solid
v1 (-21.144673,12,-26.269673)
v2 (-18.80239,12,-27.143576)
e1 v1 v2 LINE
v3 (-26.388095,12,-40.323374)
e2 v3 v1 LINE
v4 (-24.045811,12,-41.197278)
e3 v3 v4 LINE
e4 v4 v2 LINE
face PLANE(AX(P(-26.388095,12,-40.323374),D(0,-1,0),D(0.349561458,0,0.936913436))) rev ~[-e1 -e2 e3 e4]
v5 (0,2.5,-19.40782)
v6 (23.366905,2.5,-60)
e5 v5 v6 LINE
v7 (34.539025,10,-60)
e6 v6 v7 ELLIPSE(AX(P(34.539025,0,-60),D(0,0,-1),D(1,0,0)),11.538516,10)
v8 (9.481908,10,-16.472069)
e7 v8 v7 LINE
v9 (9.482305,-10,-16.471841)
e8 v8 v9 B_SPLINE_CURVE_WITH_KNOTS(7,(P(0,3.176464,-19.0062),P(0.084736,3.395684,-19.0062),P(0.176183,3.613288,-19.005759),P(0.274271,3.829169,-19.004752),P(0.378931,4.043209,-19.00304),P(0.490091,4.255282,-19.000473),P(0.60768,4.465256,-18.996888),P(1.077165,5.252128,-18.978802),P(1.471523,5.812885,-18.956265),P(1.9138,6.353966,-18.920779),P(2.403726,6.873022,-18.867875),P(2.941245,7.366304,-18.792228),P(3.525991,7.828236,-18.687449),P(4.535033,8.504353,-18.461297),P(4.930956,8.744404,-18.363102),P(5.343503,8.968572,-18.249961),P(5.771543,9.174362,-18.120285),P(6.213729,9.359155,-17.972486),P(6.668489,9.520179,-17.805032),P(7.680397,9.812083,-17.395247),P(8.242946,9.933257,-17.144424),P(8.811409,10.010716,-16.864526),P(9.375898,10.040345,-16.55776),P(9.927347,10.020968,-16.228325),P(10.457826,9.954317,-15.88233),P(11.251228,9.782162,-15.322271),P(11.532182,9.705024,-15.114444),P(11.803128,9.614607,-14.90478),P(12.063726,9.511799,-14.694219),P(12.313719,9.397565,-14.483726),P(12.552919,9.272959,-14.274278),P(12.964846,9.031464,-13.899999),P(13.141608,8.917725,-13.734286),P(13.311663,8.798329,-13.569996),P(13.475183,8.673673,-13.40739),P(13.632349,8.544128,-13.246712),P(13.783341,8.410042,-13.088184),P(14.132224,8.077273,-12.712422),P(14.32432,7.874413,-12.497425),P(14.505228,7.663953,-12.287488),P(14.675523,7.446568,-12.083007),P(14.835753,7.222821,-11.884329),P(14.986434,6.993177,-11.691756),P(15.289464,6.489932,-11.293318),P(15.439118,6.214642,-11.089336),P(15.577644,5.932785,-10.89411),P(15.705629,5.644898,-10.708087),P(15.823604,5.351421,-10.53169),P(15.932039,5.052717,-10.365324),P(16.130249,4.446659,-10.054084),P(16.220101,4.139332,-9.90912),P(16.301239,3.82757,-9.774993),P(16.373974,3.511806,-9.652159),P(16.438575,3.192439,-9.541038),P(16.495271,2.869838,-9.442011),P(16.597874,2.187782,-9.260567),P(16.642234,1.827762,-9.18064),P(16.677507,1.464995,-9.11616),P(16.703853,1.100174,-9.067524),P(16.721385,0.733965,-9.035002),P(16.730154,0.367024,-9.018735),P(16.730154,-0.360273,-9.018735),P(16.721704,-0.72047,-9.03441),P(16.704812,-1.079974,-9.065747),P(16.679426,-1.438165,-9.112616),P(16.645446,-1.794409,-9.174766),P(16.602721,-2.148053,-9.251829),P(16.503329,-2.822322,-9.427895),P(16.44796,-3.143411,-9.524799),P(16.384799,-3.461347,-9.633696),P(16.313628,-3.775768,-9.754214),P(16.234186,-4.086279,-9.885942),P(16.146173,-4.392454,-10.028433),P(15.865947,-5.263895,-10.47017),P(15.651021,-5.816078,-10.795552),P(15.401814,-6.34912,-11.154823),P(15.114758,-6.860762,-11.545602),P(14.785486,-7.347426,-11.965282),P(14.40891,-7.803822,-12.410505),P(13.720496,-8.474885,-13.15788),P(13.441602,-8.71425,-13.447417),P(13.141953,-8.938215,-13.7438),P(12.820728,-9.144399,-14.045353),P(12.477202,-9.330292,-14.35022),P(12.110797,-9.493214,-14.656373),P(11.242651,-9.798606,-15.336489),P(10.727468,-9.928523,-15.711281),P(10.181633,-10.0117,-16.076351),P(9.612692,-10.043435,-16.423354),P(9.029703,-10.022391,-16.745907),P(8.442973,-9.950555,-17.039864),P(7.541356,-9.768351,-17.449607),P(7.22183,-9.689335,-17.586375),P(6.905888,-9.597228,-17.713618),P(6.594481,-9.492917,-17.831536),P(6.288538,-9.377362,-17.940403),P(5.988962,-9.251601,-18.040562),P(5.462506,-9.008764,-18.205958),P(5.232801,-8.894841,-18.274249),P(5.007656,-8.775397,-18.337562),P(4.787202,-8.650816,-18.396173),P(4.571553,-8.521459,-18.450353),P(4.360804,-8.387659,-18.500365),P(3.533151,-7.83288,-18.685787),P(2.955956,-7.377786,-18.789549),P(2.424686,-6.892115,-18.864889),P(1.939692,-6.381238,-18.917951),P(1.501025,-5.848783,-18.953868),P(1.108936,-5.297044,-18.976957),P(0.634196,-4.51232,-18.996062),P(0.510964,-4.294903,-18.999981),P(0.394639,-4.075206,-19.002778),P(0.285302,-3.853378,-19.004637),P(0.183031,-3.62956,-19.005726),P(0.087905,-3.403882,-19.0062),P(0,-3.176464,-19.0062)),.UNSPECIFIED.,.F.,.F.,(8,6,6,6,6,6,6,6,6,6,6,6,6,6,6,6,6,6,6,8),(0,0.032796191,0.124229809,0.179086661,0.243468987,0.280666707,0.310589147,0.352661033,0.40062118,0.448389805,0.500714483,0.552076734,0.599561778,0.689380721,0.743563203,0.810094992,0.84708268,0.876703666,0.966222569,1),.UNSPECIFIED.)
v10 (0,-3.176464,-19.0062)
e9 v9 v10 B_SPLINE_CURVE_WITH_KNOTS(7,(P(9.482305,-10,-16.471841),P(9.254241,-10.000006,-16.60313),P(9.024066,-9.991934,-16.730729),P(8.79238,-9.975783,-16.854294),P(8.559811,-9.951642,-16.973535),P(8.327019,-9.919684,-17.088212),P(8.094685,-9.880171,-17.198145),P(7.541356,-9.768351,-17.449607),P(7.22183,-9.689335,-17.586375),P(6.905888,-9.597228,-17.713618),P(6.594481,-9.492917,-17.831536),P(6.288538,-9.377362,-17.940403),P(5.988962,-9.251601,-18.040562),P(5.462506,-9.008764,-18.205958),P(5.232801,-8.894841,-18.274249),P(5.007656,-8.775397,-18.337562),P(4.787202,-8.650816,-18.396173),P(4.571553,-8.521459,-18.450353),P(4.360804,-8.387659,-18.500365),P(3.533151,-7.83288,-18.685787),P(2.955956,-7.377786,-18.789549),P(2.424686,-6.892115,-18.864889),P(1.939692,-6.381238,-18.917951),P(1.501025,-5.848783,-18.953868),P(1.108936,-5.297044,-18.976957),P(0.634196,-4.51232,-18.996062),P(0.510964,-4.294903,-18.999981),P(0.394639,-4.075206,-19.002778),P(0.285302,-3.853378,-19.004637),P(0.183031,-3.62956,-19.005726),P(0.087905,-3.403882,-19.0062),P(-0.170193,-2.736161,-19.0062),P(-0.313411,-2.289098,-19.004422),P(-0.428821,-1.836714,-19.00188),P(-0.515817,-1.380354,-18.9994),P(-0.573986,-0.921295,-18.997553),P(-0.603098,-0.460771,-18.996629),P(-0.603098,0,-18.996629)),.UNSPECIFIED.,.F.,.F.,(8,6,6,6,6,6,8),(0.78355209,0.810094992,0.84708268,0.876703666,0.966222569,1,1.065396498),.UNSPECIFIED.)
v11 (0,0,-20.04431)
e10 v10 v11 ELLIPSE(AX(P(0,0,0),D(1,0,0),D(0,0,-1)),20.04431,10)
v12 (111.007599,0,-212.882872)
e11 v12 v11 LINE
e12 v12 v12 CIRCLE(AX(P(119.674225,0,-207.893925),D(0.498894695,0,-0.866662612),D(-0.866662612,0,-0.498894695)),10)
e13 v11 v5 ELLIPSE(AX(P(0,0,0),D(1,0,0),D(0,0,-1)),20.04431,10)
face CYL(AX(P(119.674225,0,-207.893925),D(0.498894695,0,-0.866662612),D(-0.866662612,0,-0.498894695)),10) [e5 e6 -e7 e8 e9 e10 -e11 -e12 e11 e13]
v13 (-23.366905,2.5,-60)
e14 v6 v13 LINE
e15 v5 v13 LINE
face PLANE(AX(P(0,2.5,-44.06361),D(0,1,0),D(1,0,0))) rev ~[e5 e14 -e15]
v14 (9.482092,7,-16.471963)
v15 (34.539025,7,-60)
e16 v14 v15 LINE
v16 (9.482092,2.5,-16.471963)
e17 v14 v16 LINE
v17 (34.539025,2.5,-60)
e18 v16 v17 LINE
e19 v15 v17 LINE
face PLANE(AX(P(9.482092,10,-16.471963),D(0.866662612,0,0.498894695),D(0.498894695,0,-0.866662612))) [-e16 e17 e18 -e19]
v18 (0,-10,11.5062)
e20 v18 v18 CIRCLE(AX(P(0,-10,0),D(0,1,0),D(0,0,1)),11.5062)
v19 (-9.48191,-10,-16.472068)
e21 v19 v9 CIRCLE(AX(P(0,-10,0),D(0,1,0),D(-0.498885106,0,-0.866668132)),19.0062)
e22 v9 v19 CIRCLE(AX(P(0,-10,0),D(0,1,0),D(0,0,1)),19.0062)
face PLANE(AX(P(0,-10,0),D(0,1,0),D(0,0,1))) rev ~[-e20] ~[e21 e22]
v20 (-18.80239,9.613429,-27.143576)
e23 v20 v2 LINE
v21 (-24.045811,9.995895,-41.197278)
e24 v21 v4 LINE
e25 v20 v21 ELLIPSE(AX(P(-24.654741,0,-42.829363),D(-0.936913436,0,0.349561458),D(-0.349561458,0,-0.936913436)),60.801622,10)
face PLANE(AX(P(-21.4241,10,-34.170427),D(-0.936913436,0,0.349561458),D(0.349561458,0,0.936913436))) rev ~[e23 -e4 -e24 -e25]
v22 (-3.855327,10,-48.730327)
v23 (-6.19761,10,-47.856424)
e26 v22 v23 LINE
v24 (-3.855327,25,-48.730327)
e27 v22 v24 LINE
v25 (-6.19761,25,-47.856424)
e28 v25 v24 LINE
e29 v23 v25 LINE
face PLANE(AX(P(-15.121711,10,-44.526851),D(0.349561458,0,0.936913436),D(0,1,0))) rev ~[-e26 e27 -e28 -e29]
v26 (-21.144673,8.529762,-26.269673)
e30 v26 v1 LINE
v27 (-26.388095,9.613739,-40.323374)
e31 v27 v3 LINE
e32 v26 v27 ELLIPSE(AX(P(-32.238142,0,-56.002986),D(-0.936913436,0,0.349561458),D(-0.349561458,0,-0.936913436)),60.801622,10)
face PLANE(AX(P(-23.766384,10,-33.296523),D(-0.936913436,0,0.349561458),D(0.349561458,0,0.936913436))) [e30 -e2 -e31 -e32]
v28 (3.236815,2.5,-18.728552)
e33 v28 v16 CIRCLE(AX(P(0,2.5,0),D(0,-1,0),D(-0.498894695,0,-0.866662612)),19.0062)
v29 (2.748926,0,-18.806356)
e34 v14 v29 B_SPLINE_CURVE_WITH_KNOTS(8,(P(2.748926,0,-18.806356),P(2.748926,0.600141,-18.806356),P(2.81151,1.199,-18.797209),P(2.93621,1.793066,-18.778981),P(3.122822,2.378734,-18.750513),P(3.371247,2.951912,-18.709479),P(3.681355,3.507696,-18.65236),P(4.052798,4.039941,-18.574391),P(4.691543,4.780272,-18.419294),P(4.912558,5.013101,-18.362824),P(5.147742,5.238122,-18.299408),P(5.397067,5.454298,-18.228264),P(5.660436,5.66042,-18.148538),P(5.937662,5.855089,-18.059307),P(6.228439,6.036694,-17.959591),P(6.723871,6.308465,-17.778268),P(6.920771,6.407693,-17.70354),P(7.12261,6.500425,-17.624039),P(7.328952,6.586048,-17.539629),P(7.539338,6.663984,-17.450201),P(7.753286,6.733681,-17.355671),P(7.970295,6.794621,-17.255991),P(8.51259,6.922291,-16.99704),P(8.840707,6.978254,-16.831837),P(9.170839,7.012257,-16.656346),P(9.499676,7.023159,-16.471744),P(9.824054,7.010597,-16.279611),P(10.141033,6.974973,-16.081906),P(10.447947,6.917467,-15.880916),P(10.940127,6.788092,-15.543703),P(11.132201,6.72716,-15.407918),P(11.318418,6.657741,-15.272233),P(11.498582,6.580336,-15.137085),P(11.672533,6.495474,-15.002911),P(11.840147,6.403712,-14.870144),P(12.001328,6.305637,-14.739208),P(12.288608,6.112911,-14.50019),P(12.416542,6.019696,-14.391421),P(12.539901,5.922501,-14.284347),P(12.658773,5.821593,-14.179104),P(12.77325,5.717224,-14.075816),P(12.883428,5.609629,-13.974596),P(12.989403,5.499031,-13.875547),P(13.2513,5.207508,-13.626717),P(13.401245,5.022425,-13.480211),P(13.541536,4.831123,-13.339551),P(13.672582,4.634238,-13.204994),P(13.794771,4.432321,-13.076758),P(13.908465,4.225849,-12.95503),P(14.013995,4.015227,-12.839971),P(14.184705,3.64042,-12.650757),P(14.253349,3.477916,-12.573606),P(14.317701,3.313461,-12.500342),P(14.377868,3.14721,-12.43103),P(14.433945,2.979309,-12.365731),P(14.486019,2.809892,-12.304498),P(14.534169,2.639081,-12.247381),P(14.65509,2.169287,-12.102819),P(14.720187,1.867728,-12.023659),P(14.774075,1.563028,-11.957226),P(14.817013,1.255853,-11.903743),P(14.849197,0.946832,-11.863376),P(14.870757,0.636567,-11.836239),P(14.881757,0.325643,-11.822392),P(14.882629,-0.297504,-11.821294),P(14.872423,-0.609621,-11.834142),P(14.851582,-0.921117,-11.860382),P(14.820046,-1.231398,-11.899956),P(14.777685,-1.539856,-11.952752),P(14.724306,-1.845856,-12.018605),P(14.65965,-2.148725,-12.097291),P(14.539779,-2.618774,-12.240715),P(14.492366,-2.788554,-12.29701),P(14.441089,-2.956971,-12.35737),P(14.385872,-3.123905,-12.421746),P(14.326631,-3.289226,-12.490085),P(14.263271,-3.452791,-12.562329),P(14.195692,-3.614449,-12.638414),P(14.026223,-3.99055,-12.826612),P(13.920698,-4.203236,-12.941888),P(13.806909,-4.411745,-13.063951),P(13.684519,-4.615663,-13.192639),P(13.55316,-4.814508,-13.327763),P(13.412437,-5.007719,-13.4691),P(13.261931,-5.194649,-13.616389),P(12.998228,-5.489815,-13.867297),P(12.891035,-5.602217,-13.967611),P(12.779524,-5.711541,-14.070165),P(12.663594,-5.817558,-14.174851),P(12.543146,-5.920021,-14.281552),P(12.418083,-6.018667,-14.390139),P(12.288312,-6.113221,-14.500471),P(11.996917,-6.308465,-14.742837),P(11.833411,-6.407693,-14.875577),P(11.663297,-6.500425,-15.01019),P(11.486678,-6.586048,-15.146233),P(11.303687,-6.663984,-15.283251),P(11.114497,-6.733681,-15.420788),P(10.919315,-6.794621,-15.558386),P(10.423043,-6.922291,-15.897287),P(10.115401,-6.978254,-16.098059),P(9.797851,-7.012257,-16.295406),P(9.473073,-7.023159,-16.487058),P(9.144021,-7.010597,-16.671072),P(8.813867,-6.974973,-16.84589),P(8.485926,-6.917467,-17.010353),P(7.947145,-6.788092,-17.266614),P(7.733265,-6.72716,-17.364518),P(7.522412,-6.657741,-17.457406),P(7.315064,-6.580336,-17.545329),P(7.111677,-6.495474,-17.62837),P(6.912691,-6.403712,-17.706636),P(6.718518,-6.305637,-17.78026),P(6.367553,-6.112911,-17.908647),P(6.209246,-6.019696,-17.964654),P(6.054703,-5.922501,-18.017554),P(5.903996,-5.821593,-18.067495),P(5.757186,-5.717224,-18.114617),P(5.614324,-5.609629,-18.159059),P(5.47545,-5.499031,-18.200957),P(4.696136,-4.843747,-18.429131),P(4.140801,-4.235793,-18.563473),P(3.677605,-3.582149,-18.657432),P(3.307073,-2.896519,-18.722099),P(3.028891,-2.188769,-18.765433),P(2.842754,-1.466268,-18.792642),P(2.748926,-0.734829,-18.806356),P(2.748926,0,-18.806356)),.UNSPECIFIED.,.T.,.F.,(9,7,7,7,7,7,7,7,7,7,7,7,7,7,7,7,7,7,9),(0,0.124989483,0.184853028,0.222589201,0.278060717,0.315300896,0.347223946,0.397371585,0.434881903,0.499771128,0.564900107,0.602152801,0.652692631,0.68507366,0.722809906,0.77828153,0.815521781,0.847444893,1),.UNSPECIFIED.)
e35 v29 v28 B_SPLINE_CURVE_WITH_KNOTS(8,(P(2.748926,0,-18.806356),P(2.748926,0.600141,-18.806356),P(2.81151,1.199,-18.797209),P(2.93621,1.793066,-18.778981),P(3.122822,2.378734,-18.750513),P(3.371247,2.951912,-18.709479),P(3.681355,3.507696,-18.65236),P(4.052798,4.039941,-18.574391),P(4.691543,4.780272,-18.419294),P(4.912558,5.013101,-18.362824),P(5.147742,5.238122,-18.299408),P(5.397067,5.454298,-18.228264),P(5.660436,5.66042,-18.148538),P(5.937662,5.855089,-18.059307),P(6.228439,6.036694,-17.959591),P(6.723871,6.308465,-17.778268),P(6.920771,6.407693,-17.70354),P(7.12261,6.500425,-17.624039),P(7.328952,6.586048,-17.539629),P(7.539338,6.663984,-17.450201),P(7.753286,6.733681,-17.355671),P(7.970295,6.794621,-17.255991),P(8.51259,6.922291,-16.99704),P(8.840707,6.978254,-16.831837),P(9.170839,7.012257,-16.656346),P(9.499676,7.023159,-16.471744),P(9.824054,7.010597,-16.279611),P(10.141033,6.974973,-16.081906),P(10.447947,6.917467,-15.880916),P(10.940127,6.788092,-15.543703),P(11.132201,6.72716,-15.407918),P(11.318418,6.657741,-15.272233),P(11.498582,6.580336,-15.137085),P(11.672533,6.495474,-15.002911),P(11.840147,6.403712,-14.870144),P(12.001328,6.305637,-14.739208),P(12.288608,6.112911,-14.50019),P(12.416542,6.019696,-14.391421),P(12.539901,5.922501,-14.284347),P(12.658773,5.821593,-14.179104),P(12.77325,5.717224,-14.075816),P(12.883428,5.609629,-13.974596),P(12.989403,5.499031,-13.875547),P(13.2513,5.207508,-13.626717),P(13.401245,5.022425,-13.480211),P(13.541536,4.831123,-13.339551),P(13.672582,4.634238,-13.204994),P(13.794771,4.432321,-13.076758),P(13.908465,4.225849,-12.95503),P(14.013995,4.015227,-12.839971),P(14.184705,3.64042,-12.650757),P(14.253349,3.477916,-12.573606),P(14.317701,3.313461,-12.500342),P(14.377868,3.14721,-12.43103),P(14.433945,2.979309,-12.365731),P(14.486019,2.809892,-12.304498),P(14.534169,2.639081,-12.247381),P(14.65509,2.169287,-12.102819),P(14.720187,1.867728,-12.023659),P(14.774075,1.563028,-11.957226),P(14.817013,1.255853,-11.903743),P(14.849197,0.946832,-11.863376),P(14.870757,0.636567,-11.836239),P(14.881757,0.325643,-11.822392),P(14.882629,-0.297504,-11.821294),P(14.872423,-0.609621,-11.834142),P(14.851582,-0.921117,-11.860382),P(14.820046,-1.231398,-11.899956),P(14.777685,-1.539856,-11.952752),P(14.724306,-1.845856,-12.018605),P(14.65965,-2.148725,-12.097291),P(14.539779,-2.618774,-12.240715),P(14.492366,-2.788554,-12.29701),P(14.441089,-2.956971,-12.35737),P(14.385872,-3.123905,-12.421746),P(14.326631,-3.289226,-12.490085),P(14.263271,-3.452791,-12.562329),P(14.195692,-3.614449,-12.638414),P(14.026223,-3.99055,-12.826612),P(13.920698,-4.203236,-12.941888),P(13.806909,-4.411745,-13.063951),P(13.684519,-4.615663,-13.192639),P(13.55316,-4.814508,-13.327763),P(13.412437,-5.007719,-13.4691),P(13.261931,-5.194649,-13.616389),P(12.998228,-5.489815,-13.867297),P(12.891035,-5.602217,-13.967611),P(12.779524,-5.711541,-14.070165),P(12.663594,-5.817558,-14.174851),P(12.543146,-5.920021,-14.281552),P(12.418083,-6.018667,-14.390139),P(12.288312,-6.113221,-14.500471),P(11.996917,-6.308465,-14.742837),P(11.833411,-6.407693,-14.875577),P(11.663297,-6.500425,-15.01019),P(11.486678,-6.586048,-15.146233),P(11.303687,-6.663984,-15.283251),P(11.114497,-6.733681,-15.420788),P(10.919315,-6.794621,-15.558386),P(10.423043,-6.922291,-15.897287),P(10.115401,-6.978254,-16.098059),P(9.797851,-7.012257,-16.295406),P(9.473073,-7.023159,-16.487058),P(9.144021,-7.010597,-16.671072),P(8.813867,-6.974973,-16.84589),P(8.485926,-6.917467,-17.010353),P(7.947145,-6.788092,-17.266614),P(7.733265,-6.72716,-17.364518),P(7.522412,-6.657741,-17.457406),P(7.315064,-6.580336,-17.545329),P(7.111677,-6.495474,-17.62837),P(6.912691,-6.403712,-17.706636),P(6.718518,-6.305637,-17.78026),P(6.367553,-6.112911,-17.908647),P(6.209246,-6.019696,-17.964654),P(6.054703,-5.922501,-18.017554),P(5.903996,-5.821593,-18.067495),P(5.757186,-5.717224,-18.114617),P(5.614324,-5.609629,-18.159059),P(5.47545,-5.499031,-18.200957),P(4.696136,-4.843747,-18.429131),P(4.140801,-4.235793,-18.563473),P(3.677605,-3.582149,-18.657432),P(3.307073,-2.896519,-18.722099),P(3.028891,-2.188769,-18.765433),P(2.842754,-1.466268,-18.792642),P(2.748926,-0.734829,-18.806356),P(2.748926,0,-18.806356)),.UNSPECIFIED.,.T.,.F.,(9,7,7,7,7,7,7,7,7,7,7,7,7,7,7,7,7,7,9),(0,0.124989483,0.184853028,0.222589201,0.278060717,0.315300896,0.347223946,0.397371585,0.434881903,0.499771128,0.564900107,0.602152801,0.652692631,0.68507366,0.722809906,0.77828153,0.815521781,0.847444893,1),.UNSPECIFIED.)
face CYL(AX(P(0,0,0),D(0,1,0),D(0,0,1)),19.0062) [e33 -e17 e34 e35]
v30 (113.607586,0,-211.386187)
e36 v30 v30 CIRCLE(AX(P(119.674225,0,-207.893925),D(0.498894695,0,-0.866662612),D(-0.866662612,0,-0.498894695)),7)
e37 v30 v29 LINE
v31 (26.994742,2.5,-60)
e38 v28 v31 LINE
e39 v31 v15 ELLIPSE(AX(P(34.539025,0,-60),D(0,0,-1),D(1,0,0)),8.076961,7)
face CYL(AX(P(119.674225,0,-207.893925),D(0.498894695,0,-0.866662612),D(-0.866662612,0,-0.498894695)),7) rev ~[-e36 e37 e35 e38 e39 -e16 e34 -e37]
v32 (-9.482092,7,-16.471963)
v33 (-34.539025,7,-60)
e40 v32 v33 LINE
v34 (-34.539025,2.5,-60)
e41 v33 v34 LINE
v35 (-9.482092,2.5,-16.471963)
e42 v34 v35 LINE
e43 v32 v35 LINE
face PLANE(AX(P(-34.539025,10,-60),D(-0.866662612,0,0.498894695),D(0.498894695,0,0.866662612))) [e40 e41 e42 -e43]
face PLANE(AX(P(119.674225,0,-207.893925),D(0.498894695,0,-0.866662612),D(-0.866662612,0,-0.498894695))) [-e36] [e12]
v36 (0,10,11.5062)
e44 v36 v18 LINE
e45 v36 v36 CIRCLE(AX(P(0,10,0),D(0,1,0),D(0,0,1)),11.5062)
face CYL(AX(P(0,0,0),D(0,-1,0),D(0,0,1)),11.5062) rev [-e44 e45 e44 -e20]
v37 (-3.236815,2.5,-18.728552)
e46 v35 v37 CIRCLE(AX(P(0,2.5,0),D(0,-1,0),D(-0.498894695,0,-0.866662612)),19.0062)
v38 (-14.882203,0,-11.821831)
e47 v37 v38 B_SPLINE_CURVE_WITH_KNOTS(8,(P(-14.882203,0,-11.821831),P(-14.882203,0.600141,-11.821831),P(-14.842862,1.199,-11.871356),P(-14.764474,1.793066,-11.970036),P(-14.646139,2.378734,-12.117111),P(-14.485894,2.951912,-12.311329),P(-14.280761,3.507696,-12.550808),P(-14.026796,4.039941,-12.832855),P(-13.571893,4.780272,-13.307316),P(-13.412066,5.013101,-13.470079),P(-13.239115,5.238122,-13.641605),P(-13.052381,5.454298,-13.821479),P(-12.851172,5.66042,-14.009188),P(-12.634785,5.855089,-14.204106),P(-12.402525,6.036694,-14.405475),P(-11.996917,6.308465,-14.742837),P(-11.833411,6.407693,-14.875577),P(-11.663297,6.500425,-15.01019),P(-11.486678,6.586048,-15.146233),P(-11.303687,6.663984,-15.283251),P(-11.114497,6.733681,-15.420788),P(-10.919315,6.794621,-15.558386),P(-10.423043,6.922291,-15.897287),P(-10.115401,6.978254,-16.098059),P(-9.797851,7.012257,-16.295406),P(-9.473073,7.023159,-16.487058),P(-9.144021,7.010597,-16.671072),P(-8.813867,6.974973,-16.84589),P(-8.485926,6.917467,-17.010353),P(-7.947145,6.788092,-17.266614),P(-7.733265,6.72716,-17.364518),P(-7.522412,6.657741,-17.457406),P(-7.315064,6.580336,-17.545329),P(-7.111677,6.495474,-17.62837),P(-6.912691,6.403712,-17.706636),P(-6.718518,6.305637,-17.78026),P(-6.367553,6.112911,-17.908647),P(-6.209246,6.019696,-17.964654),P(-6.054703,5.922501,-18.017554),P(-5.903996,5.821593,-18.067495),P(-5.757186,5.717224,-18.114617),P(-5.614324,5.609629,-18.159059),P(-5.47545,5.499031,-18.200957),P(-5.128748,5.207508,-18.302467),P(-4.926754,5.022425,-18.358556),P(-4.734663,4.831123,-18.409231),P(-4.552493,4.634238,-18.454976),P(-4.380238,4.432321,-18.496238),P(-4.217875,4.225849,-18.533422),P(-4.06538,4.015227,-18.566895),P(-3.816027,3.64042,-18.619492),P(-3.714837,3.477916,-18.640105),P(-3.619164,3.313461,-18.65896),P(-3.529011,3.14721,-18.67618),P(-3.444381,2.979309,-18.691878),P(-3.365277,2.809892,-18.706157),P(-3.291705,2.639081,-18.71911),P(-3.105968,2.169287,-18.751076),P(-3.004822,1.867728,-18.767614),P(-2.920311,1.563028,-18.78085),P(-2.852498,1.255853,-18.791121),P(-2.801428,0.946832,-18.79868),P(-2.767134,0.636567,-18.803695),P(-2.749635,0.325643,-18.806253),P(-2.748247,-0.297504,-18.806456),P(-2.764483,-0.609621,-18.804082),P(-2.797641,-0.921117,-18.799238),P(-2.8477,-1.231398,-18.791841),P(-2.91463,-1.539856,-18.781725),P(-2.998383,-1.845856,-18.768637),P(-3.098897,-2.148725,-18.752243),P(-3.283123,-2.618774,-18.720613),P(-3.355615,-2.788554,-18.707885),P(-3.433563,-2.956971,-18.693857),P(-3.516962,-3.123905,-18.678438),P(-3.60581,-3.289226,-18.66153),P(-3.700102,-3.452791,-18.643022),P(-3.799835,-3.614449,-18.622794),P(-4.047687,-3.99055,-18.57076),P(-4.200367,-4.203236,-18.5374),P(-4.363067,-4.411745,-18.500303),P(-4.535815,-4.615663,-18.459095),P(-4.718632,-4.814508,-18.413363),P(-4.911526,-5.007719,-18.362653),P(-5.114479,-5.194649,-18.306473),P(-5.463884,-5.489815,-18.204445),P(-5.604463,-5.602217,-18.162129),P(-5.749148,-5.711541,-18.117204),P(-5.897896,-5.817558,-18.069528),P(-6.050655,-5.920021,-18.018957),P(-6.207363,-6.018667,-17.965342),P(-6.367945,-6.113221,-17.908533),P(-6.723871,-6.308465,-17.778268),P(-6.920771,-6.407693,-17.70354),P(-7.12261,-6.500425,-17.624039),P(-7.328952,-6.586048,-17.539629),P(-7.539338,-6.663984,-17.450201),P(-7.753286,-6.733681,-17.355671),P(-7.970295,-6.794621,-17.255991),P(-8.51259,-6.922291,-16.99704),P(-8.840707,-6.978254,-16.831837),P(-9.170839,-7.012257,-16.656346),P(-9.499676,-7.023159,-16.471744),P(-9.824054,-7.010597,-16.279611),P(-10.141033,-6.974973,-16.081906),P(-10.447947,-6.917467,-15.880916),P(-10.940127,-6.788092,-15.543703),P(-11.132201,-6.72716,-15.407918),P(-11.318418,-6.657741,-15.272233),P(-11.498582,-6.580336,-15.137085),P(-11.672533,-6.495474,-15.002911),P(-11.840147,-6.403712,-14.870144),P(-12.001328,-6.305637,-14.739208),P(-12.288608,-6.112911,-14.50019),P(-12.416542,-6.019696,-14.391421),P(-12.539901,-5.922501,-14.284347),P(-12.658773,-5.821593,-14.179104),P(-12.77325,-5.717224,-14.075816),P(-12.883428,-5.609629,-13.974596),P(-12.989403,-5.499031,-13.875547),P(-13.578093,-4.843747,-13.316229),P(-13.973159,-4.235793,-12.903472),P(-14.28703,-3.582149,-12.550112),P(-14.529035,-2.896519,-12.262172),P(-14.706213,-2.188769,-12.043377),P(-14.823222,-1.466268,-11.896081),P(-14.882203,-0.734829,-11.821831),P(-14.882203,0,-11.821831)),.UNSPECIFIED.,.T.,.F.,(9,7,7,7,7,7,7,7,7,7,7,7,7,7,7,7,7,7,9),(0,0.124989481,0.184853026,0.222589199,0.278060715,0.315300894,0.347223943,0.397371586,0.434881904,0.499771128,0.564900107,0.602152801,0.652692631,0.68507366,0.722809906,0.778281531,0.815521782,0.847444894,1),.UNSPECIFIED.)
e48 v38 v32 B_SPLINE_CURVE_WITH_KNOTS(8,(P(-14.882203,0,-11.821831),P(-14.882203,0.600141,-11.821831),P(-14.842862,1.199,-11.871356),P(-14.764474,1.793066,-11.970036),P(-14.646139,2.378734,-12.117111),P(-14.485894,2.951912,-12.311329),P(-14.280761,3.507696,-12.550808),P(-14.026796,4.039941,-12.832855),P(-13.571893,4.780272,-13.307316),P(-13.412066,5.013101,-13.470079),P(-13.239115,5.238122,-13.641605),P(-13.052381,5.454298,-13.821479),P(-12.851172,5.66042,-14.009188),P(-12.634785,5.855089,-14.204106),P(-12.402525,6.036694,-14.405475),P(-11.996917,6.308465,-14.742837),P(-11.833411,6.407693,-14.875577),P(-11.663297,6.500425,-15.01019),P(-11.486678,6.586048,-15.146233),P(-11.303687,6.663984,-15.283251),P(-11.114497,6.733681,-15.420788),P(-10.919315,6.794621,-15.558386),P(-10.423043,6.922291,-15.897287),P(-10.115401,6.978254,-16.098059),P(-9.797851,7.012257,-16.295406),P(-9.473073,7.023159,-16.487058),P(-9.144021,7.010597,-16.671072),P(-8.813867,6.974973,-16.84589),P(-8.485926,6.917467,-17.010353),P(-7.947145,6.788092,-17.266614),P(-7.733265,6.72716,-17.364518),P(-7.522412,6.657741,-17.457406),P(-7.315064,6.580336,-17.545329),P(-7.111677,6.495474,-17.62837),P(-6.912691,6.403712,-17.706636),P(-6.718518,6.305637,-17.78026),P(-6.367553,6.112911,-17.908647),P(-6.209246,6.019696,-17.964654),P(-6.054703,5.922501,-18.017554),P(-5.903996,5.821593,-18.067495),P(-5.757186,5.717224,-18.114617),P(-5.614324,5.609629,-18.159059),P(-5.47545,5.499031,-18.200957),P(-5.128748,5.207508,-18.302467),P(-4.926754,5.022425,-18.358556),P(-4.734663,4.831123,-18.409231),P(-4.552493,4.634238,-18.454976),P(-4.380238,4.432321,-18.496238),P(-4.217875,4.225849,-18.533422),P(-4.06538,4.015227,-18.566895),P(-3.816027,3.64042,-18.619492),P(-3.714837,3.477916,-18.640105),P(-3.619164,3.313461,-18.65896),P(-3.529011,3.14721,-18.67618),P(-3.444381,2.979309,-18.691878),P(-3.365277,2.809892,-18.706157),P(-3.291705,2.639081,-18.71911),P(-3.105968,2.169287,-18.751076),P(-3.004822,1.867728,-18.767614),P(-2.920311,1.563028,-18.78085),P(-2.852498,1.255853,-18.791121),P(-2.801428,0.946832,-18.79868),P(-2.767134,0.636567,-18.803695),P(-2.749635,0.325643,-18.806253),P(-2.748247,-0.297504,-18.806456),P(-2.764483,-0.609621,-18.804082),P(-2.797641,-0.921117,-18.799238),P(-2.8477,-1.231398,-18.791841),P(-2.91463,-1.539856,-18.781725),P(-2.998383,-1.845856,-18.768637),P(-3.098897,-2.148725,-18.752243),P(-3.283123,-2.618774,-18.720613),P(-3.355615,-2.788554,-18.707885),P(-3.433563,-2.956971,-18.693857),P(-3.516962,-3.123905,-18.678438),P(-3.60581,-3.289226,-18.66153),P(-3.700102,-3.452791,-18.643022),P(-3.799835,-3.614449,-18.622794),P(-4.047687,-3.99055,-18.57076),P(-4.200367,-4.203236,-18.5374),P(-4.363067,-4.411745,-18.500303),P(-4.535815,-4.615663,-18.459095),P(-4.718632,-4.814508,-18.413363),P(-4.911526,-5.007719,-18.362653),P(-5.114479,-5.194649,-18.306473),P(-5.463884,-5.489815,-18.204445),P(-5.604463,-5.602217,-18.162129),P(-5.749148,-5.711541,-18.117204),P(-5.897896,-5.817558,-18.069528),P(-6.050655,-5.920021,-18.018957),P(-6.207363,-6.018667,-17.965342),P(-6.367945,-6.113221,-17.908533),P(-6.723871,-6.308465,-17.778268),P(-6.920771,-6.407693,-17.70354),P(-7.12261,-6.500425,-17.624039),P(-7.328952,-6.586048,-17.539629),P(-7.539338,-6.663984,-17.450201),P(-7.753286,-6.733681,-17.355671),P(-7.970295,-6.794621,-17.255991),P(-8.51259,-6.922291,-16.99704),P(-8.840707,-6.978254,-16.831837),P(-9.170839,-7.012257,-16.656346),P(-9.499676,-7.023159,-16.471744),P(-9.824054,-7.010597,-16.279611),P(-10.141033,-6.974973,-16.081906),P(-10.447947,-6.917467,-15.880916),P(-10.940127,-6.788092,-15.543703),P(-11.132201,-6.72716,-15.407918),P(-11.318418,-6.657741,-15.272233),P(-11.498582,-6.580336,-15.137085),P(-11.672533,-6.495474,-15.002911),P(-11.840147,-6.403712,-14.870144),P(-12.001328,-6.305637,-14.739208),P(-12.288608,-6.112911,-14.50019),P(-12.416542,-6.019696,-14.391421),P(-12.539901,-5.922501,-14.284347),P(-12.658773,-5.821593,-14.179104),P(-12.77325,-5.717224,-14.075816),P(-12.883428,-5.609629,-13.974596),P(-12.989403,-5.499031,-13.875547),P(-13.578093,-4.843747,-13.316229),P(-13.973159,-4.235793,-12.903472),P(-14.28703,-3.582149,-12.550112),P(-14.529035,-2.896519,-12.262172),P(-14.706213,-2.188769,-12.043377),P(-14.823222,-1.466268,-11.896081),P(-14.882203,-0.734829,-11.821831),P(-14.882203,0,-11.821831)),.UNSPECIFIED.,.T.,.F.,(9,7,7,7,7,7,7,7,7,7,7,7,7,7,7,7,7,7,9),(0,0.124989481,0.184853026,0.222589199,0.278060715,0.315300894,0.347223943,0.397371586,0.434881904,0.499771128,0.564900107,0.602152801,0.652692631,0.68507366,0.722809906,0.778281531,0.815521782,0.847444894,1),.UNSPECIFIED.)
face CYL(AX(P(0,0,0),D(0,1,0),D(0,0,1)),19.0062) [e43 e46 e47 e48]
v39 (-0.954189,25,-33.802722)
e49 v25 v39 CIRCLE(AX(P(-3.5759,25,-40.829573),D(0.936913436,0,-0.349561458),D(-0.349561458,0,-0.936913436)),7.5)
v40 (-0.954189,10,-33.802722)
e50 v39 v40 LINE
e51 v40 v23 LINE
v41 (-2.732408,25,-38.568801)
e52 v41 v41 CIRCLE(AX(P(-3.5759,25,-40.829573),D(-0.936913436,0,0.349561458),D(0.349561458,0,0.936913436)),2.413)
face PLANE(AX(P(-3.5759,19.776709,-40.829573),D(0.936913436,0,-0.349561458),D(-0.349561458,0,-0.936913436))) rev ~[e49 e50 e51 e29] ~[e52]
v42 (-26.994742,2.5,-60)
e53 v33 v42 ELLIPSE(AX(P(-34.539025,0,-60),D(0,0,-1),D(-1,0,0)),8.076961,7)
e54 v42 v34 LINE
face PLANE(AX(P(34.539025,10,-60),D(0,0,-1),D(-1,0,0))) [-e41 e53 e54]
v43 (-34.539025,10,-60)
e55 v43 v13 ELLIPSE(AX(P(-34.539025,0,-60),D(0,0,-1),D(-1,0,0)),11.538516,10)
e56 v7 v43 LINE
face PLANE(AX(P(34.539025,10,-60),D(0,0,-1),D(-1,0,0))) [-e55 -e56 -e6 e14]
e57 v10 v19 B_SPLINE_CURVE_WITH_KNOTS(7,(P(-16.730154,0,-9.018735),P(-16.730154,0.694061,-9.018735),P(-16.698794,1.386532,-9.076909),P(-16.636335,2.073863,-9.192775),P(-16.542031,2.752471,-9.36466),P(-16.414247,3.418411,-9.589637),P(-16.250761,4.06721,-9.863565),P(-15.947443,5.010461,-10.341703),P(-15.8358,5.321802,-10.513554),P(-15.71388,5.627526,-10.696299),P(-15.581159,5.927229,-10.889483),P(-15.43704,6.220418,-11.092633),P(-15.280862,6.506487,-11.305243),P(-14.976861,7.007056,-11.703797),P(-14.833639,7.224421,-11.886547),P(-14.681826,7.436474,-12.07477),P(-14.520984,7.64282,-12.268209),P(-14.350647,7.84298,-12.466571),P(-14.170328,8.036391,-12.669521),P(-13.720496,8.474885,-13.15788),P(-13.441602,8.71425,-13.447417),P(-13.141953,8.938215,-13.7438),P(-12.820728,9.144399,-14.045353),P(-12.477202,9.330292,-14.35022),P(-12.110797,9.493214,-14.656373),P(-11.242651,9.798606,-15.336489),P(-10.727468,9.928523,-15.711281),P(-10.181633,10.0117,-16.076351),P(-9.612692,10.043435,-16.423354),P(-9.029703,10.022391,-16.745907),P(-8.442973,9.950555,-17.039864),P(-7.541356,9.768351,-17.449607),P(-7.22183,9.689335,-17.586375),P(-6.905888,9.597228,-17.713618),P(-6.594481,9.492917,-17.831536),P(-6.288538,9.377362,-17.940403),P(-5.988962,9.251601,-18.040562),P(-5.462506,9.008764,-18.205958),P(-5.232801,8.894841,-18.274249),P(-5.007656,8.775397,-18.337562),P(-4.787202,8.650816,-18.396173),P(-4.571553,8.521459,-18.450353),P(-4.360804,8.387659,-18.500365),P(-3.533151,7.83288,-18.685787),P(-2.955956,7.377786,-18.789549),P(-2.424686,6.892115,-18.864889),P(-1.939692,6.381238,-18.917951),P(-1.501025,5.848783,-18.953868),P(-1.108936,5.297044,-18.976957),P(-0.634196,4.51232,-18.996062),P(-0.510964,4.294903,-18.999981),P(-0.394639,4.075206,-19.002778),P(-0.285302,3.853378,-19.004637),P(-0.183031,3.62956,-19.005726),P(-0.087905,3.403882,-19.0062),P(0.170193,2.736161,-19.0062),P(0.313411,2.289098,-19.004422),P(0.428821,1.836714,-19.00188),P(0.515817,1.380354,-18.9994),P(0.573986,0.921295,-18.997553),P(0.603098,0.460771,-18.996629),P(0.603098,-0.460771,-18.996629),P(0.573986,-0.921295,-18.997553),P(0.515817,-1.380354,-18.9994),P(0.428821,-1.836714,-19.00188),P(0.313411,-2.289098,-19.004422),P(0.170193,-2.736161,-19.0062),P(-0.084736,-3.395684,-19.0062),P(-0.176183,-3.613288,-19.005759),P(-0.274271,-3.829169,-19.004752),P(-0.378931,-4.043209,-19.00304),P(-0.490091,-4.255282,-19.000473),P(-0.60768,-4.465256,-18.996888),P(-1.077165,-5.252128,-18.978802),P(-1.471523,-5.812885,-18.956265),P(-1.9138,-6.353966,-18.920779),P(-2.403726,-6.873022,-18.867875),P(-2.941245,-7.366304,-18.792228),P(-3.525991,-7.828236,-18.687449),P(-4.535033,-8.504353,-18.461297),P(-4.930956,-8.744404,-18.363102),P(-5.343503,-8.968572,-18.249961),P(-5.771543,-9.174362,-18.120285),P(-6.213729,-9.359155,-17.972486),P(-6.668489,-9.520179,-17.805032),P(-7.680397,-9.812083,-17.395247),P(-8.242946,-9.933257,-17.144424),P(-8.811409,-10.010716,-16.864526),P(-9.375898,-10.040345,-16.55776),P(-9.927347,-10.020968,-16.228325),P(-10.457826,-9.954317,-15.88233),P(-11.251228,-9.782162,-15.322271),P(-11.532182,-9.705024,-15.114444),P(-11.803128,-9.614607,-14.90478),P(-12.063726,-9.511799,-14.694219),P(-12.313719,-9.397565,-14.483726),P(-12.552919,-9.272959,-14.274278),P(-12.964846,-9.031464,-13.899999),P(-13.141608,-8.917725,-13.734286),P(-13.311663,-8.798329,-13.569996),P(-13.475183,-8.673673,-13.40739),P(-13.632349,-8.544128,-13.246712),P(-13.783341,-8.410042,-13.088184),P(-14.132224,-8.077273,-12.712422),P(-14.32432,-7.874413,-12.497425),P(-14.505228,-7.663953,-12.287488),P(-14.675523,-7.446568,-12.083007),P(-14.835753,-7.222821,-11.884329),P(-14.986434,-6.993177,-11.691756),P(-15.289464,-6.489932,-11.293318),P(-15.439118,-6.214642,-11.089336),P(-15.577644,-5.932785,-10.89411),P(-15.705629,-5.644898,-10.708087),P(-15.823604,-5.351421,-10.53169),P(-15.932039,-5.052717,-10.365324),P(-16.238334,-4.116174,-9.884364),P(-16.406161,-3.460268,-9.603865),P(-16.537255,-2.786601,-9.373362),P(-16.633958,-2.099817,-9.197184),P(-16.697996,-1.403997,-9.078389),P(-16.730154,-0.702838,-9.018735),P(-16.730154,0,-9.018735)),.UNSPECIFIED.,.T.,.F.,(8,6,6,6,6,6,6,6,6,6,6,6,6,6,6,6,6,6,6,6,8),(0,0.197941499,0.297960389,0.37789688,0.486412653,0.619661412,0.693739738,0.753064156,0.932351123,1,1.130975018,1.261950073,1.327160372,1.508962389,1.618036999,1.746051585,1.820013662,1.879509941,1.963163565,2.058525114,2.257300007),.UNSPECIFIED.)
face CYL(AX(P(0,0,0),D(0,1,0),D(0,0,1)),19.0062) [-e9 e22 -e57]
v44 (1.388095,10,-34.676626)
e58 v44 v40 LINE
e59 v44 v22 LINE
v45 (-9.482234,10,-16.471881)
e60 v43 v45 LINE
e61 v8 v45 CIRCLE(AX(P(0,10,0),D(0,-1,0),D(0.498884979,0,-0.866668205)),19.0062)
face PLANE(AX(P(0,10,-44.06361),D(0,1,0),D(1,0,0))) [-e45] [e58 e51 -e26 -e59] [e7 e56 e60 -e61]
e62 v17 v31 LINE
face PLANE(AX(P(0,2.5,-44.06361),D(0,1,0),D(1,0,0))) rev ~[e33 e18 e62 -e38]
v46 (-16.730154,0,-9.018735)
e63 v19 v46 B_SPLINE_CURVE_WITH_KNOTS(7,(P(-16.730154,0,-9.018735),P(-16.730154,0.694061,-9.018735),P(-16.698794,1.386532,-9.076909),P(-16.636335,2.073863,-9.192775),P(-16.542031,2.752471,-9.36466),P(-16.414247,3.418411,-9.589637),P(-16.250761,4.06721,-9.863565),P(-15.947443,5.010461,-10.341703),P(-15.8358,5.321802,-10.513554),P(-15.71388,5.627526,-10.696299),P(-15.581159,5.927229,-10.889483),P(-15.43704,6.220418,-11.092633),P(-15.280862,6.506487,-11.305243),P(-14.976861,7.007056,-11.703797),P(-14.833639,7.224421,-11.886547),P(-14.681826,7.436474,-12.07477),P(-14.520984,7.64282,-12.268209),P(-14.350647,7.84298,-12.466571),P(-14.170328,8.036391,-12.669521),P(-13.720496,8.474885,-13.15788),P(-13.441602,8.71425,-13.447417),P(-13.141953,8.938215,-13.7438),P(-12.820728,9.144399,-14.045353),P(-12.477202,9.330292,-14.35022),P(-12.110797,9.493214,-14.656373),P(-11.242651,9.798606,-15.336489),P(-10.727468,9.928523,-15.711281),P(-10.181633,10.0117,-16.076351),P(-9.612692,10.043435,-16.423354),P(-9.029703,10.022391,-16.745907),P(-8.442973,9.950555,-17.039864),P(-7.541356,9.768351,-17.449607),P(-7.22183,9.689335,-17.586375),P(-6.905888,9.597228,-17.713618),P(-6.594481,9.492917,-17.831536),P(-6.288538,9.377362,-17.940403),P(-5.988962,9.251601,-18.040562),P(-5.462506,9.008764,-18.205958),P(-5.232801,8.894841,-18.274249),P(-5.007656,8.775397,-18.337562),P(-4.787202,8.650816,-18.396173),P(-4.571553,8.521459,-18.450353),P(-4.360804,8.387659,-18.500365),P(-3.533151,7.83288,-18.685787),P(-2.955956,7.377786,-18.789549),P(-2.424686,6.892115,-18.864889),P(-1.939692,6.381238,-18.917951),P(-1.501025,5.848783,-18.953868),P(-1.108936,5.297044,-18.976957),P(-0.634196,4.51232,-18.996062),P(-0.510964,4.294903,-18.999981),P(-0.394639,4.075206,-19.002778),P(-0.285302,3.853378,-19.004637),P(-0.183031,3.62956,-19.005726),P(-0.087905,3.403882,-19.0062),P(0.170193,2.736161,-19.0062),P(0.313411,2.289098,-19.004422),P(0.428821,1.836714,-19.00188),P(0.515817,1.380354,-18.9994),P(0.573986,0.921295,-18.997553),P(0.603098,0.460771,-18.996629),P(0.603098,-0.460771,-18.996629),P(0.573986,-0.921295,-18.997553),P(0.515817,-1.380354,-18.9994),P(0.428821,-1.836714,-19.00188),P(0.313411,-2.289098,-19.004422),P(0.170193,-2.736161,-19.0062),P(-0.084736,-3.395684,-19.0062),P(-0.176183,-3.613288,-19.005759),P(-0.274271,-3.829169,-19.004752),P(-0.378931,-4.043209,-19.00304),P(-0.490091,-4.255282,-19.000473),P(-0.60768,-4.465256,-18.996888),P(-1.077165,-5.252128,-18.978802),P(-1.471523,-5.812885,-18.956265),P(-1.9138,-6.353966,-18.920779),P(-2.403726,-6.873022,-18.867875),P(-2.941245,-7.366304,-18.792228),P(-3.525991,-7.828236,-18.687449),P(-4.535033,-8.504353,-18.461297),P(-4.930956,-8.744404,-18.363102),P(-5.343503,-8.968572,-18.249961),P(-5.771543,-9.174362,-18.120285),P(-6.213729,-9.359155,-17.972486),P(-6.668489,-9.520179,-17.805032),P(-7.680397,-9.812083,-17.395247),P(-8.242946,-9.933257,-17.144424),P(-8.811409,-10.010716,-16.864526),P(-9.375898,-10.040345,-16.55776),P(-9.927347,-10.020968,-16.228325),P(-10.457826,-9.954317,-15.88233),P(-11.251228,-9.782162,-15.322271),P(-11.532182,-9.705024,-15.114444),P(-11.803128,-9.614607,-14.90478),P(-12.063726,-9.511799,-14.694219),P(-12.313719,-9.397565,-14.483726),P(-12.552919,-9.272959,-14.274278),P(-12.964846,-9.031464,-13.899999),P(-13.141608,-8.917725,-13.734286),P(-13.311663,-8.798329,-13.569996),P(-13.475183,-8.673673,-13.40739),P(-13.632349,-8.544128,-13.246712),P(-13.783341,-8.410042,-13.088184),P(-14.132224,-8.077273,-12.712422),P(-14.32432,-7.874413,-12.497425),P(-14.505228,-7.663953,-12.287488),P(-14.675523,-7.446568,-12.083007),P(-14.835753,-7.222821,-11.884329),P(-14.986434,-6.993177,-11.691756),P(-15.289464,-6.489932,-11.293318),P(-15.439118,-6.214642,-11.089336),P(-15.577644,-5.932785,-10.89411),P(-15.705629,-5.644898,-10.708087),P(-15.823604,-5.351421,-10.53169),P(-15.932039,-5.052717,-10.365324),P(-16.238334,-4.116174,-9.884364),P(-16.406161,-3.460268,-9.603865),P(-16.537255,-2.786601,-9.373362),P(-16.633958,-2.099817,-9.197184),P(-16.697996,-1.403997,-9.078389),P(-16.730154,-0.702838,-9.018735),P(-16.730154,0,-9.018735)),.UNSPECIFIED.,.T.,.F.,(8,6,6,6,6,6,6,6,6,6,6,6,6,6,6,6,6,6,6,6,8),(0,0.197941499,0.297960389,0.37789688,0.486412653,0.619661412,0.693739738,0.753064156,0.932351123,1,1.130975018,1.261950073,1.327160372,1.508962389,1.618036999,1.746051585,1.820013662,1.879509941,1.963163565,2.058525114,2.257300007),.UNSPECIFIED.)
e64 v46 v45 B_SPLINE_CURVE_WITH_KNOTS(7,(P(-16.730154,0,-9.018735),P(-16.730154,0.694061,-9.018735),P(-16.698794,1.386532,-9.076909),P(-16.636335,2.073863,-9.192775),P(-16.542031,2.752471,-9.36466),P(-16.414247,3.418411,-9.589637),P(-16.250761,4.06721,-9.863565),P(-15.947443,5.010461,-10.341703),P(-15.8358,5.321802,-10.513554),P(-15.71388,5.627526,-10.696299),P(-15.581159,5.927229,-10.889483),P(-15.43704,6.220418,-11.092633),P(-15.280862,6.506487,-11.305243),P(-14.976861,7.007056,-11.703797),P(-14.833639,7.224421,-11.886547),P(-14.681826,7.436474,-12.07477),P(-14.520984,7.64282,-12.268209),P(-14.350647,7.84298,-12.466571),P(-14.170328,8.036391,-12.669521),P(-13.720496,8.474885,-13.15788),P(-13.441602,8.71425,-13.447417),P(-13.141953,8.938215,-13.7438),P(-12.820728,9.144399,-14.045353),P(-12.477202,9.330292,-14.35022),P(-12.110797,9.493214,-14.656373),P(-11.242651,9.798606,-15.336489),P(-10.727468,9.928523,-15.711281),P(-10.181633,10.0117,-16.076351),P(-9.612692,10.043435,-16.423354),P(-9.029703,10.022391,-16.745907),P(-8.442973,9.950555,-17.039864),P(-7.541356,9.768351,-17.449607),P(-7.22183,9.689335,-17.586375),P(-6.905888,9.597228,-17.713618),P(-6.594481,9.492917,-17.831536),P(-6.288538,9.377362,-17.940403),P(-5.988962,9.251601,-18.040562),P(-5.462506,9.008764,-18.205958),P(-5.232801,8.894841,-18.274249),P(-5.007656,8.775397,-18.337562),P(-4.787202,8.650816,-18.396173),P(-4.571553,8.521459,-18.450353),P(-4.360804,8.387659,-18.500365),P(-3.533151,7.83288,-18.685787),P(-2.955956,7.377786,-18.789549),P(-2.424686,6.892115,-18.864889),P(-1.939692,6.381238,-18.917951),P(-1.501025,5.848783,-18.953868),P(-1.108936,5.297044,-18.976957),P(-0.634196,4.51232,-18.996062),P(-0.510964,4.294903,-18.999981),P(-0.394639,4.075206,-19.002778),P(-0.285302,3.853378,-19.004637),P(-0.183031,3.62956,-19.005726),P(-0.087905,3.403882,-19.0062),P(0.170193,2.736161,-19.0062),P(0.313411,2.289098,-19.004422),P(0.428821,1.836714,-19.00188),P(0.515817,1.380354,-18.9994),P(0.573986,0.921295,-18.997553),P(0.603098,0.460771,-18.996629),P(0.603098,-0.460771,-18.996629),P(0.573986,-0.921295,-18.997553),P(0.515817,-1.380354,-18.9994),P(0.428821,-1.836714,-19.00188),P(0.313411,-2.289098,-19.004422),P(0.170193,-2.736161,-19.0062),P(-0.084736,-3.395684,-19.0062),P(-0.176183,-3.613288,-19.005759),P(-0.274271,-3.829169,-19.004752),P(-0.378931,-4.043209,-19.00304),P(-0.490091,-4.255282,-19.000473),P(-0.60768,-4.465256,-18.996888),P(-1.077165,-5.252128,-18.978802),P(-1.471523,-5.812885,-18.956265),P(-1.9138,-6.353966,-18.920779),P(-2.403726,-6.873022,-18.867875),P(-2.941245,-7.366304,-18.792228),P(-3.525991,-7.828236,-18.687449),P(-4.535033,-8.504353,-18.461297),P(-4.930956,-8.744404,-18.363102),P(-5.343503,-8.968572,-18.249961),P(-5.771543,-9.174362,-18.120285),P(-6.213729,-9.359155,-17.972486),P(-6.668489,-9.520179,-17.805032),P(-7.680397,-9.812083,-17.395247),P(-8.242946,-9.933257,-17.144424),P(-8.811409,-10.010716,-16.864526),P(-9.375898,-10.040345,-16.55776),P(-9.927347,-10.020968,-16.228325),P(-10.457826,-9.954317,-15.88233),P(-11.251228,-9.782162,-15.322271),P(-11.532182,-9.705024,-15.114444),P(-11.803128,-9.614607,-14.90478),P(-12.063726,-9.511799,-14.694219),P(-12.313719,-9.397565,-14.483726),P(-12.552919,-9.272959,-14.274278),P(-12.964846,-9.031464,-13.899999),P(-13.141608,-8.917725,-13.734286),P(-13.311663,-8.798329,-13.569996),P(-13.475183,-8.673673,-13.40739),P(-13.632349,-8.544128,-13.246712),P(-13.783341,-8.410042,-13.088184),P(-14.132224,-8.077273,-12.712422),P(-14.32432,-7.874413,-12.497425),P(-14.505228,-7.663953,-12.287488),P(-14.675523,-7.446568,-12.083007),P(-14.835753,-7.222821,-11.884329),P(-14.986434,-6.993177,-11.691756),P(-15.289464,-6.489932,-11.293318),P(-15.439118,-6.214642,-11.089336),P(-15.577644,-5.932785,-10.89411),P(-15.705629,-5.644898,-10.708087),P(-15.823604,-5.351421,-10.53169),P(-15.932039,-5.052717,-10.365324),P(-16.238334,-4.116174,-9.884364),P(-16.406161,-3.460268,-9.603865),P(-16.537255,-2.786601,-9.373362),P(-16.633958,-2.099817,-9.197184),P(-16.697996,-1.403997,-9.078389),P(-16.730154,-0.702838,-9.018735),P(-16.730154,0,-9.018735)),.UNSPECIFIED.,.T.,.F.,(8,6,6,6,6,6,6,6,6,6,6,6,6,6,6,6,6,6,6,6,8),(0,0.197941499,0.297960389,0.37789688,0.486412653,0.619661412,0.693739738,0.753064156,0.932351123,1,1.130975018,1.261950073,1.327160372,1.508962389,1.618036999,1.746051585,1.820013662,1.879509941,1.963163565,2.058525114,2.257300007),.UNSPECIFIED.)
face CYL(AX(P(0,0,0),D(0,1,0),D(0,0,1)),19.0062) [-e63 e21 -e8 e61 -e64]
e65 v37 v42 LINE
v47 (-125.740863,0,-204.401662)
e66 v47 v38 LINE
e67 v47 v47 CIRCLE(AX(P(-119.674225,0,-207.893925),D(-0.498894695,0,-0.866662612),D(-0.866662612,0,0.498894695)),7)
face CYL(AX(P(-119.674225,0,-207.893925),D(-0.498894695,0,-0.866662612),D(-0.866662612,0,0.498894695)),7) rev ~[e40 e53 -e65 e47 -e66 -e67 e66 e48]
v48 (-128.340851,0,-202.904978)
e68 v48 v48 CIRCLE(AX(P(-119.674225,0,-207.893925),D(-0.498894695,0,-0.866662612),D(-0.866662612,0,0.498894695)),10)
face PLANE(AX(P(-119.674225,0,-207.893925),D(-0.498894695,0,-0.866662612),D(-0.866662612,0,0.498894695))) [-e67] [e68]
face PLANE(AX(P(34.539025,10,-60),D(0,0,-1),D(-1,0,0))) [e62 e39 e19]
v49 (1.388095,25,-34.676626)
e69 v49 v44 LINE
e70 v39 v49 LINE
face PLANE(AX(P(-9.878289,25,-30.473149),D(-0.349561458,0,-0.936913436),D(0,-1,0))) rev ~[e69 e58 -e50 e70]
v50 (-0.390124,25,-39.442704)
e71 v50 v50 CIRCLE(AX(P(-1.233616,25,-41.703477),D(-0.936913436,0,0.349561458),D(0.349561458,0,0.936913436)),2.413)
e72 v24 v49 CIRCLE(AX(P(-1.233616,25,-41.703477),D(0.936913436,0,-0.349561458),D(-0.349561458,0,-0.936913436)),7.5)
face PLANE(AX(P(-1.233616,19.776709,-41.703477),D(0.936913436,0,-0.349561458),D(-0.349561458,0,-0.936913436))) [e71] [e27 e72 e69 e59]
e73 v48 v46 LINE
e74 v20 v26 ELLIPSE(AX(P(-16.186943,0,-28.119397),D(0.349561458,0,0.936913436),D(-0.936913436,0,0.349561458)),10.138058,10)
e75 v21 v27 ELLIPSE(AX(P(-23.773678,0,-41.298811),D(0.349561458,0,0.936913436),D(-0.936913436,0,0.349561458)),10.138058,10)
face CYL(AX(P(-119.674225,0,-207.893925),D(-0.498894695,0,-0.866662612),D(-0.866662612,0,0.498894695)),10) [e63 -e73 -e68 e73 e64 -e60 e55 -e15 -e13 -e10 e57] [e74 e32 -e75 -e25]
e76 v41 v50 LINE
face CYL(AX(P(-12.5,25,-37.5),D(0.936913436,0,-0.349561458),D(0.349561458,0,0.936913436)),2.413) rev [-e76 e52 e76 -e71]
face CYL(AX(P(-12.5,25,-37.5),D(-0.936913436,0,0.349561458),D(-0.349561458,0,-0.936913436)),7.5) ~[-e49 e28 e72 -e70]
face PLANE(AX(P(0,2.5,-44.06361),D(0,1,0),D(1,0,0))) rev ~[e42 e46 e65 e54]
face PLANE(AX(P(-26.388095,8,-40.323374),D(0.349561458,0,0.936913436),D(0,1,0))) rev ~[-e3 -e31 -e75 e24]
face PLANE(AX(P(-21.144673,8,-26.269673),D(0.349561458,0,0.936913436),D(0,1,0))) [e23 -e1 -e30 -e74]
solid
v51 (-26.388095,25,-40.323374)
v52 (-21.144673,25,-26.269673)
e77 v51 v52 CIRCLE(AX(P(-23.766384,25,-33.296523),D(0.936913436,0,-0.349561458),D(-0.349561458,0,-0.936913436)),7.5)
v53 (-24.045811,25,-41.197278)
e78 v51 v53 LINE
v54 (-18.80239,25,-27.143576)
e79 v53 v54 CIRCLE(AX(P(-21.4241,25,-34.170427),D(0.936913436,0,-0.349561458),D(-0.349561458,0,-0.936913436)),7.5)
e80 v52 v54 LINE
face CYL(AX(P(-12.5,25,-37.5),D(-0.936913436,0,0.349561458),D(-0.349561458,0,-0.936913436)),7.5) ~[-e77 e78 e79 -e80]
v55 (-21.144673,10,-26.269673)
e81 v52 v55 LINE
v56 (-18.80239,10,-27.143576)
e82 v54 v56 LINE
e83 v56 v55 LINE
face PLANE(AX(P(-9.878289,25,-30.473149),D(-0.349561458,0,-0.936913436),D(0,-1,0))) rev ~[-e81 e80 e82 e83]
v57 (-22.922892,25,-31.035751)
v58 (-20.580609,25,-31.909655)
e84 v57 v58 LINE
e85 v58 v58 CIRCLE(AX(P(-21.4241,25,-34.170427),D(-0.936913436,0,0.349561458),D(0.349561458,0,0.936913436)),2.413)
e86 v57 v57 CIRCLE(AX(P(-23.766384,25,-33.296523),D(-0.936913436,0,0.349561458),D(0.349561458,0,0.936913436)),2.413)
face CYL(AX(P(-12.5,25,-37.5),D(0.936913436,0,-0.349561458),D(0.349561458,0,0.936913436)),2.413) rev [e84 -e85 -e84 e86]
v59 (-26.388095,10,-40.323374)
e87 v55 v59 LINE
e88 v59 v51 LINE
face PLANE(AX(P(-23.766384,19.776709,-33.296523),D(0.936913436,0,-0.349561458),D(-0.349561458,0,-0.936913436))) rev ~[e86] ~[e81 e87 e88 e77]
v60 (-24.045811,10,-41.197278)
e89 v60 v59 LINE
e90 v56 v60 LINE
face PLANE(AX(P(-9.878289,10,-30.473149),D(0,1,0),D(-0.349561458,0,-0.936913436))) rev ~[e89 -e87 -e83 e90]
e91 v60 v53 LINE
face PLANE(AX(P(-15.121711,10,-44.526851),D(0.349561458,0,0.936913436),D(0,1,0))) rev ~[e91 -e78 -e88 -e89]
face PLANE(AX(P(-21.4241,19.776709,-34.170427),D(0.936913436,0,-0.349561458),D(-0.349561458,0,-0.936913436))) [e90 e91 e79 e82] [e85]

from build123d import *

# Parameters (mm, degrees)
SKETCH1_R                = 19.0062
SKETCH1_R_2              = 11.5062
BOSS_EXTRUDE1_DEPTH      = 10
BOSS_EXTRUDE2_REACH      = 268.113
BOSS_EXTRUDE2_END_RADIUS = 19.0062
SKETCH5_R                = 10
SKETCH5_R_2              = 7
BOSS_EXTRUDE3_REACH      = 338.296
BOSS_EXTRUDE3_END_RADIUS = 19.0062
SKETCH6_R                = 10
SKETCH6_R_2              = 7
BOSS_EXTRUDE7_DEPTH      = 7.5
SKETCH14_R               = 2.413
BOSS_EXTRUDE8_DEPTH      = 12.025
SKETCH14_2_R             = 2.413
CUT_EXTRUDE1_DEPTH       = 9.525
SKETCH15_W               = 15
SKETCH15_H               = 4
BOSS_EXTRUDE9_DEPTH      = 2.5


with BuildPart() as part:
    # Sketch1 → Boss-Extrude1 (new, symmetric)
    with BuildSketch(Plane(origin=(0, 0, 0), x_dir=(1, 0, 0), z_dir=(0, 1, 0))):
        with Locations(Location((0, 0, 0), (0, 0, 270))):
            Circle(SKETCH1_R)
        with Locations(Location((0, 0, 0), (0, 0, 270))):
            Circle(SKETCH1_R_2, mode=Mode.SUBTRACT)
    extrude(amount=BOSS_EXTRUDE1_DEPTH, both=True)

    # Boss-Extrude2: up to this cylinder (the profile starts outside it)
    boss_extrude2_end = Plane(origin=(0, 0, 0), z_dir=(0, -1, 0)) * Cylinder(BOSS_EXTRUDE2_END_RADIUS, 575.2384, mode=Mode.PRIVATE)
    # Sketch5 → Boss-Extrude2 (add, up to the surface)
    with BuildSketch(Plane(origin=(119.67422463, 0, -207.893924576), x_dir=(0.8666626120859299, 0, 0.49889469511350093), z_dir=(0.498894695113501, 0, -0.86666261208593)), mode=Mode.PRIVATE) as boss_extrude2_sk1:
        with Locations(Location((0, 0, 0), (0, 0, 180))):
            Circle(SKETCH5_R)
        with Locations(Location((0, 0, 0), (0, 0, 180))):
            Circle(SKETCH5_R_2, mode=Mode.SUBTRACT)
    boss_extrude2_tool1 = extrude(boss_extrude2_sk1.sketch, amount=-BOSS_EXTRUDE2_REACH, mode=Mode.PRIVATE) - boss_extrude2_end
    add(boss_extrude2_tool1.solids().sort_by_distance((128.095722, 0, -203.046086))[0])

    # Boss-Extrude3: up to this cylinder (the profile starts outside it)
    boss_extrude3_end = Plane(origin=(0, 0, 0), z_dir=(0, -1, 0)) * Cylinder(BOSS_EXTRUDE3_END_RADIUS, 715.6044, mode=Mode.PRIVATE)
    # Sketch6 → Boss-Extrude3 (add, up to the surface)
    with BuildSketch(Plane(origin=(-119.67422463, 0, -207.893924576), x_dir=(-0.8666626120859261, 0, 0.4988946951135074), z_dir=(-0.4988946951135074, 0, -0.8666626120859261)), mode=Mode.PRIVATE) as boss_extrude3_sk1:
        Circle(SKETCH6_R)
        Circle(SKETCH6_R_2, mode=Mode.SUBTRACT)
    boss_extrude3_tool1 = extrude(boss_extrude3_sk1.sketch, amount=-BOSS_EXTRUDE3_REACH, mode=Mode.PRIVATE) - boss_extrude3_end
    add(boss_extrude3_tool1.solids().sort_by_distance((-111.252728, 0, -212.741763))[0])

    # Sketch13 → Boss-Extrude7 (add)
    with BuildSketch(Plane(origin=(0, 10, 0), x_dir=(1, 0, 0), z_dir=(0, 1, 0))):
        with BuildLine():
            Line((9.482092354, 16.471962938), (34.539025094, 60))
            Line((34.539025094, 60), (-34.539025094, 60))
            Line((-34.539025094, 60), (-9.482092354, 16.471962938))
            ThreePointArc((-9.482092354, 16.471962938), (0, 19.0062), (9.482092354, 16.471962938))
        make_face()
    extrude(amount=-BOSS_EXTRUDE7_DEPTH)

    # Sketch14 → Boss-Extrude8 (add, symmetric)
    with BuildSketch(Plane(origin=(1.308996148, 0, -0.488385142), x_dir=(0.3495614575204513, 0, 0.936913436458341), z_dir=(-0.9369134364583411, 0, 0.3495614575204513))):
        with BuildLine():
            Line((-47.003772086, 10), (-47.003772086, 25))
            ThreePointArc((-47.003772086, 25), (-39.503772086, 32.5), (-32.003772086, 25))
            Line((-32.003772086, 25), (-32.003772086, 10))
            Line((-32.003772086, 10), (-47.003772086, 10))
        make_face()
        with Locations((-39.503772086, 25)):
            Circle(SKETCH14_R, mode=Mode.SUBTRACT)
    extrude(amount=BOSS_EXTRUDE8_DEPTH, both=True)

    # Sketch14<2> → Cut-Extrude1 (cut, symmetric)
    with BuildSketch(Plane(origin=(1.308996148, 0, -0.488385142), x_dir=(0.3495614575204513, 0, 0.936913436458341), z_dir=(-0.9369134364583411, 0, 0.3495614575204513))):
        with BuildLine():
            Line((-47.003772086, 10), (-47.003772086, 25))
            ThreePointArc((-47.003772086, 25), (-39.503772086, 32.5), (-32.003772086, 25))
            Line((-32.003772086, 25), (-32.003772086, 10))
            Line((-32.003772086, 10), (-47.003772086, 10))
        make_face()
        with Locations((-39.503772086, 25)):
            Circle(SKETCH14_2_R, mode=Mode.SUBTRACT)
    extrude(amount=CUT_EXTRUDE1_DEPTH, both=True, mode=Mode.SUBTRACT)


with BuildPart() as cut_extrude1_piece_1:
    # of the separate pieces the step leaves, piece 1, a body of its own (cut_extrude1_pieces)
    add(part.part.solids().sort_by_distance((111.007598509, 0, -212.882871527))[0])

    # Sketch15 → Boss-Extrude9 (add)
    with BuildSketch(Plane(origin=(-9.957387925, 0, 3.715091385), x_dir=(0.34956145752045137, 0, 0.936913436458341), z_dir=(-0.936913436458341, 0, 0.34956145752045137))):
        with Locations((-39.503772086, 10)):
            Rectangle(SKETCH15_W, SKETCH15_H)
    extrude(amount=-BOSS_EXTRUDE9_DEPTH)


with BuildPart() as cut_extrude1_piece_2:
    # of the separate pieces the step leaves, piece 2, a body of its own (cut_extrude1_pieces)
    add(part.part.solids().sort_by_distance((-18.802389551, 10, -27.143576344))[0])


solid = Compound([cut_extrude1_piece_1.part, cut_extrude1_piece_2.part])
